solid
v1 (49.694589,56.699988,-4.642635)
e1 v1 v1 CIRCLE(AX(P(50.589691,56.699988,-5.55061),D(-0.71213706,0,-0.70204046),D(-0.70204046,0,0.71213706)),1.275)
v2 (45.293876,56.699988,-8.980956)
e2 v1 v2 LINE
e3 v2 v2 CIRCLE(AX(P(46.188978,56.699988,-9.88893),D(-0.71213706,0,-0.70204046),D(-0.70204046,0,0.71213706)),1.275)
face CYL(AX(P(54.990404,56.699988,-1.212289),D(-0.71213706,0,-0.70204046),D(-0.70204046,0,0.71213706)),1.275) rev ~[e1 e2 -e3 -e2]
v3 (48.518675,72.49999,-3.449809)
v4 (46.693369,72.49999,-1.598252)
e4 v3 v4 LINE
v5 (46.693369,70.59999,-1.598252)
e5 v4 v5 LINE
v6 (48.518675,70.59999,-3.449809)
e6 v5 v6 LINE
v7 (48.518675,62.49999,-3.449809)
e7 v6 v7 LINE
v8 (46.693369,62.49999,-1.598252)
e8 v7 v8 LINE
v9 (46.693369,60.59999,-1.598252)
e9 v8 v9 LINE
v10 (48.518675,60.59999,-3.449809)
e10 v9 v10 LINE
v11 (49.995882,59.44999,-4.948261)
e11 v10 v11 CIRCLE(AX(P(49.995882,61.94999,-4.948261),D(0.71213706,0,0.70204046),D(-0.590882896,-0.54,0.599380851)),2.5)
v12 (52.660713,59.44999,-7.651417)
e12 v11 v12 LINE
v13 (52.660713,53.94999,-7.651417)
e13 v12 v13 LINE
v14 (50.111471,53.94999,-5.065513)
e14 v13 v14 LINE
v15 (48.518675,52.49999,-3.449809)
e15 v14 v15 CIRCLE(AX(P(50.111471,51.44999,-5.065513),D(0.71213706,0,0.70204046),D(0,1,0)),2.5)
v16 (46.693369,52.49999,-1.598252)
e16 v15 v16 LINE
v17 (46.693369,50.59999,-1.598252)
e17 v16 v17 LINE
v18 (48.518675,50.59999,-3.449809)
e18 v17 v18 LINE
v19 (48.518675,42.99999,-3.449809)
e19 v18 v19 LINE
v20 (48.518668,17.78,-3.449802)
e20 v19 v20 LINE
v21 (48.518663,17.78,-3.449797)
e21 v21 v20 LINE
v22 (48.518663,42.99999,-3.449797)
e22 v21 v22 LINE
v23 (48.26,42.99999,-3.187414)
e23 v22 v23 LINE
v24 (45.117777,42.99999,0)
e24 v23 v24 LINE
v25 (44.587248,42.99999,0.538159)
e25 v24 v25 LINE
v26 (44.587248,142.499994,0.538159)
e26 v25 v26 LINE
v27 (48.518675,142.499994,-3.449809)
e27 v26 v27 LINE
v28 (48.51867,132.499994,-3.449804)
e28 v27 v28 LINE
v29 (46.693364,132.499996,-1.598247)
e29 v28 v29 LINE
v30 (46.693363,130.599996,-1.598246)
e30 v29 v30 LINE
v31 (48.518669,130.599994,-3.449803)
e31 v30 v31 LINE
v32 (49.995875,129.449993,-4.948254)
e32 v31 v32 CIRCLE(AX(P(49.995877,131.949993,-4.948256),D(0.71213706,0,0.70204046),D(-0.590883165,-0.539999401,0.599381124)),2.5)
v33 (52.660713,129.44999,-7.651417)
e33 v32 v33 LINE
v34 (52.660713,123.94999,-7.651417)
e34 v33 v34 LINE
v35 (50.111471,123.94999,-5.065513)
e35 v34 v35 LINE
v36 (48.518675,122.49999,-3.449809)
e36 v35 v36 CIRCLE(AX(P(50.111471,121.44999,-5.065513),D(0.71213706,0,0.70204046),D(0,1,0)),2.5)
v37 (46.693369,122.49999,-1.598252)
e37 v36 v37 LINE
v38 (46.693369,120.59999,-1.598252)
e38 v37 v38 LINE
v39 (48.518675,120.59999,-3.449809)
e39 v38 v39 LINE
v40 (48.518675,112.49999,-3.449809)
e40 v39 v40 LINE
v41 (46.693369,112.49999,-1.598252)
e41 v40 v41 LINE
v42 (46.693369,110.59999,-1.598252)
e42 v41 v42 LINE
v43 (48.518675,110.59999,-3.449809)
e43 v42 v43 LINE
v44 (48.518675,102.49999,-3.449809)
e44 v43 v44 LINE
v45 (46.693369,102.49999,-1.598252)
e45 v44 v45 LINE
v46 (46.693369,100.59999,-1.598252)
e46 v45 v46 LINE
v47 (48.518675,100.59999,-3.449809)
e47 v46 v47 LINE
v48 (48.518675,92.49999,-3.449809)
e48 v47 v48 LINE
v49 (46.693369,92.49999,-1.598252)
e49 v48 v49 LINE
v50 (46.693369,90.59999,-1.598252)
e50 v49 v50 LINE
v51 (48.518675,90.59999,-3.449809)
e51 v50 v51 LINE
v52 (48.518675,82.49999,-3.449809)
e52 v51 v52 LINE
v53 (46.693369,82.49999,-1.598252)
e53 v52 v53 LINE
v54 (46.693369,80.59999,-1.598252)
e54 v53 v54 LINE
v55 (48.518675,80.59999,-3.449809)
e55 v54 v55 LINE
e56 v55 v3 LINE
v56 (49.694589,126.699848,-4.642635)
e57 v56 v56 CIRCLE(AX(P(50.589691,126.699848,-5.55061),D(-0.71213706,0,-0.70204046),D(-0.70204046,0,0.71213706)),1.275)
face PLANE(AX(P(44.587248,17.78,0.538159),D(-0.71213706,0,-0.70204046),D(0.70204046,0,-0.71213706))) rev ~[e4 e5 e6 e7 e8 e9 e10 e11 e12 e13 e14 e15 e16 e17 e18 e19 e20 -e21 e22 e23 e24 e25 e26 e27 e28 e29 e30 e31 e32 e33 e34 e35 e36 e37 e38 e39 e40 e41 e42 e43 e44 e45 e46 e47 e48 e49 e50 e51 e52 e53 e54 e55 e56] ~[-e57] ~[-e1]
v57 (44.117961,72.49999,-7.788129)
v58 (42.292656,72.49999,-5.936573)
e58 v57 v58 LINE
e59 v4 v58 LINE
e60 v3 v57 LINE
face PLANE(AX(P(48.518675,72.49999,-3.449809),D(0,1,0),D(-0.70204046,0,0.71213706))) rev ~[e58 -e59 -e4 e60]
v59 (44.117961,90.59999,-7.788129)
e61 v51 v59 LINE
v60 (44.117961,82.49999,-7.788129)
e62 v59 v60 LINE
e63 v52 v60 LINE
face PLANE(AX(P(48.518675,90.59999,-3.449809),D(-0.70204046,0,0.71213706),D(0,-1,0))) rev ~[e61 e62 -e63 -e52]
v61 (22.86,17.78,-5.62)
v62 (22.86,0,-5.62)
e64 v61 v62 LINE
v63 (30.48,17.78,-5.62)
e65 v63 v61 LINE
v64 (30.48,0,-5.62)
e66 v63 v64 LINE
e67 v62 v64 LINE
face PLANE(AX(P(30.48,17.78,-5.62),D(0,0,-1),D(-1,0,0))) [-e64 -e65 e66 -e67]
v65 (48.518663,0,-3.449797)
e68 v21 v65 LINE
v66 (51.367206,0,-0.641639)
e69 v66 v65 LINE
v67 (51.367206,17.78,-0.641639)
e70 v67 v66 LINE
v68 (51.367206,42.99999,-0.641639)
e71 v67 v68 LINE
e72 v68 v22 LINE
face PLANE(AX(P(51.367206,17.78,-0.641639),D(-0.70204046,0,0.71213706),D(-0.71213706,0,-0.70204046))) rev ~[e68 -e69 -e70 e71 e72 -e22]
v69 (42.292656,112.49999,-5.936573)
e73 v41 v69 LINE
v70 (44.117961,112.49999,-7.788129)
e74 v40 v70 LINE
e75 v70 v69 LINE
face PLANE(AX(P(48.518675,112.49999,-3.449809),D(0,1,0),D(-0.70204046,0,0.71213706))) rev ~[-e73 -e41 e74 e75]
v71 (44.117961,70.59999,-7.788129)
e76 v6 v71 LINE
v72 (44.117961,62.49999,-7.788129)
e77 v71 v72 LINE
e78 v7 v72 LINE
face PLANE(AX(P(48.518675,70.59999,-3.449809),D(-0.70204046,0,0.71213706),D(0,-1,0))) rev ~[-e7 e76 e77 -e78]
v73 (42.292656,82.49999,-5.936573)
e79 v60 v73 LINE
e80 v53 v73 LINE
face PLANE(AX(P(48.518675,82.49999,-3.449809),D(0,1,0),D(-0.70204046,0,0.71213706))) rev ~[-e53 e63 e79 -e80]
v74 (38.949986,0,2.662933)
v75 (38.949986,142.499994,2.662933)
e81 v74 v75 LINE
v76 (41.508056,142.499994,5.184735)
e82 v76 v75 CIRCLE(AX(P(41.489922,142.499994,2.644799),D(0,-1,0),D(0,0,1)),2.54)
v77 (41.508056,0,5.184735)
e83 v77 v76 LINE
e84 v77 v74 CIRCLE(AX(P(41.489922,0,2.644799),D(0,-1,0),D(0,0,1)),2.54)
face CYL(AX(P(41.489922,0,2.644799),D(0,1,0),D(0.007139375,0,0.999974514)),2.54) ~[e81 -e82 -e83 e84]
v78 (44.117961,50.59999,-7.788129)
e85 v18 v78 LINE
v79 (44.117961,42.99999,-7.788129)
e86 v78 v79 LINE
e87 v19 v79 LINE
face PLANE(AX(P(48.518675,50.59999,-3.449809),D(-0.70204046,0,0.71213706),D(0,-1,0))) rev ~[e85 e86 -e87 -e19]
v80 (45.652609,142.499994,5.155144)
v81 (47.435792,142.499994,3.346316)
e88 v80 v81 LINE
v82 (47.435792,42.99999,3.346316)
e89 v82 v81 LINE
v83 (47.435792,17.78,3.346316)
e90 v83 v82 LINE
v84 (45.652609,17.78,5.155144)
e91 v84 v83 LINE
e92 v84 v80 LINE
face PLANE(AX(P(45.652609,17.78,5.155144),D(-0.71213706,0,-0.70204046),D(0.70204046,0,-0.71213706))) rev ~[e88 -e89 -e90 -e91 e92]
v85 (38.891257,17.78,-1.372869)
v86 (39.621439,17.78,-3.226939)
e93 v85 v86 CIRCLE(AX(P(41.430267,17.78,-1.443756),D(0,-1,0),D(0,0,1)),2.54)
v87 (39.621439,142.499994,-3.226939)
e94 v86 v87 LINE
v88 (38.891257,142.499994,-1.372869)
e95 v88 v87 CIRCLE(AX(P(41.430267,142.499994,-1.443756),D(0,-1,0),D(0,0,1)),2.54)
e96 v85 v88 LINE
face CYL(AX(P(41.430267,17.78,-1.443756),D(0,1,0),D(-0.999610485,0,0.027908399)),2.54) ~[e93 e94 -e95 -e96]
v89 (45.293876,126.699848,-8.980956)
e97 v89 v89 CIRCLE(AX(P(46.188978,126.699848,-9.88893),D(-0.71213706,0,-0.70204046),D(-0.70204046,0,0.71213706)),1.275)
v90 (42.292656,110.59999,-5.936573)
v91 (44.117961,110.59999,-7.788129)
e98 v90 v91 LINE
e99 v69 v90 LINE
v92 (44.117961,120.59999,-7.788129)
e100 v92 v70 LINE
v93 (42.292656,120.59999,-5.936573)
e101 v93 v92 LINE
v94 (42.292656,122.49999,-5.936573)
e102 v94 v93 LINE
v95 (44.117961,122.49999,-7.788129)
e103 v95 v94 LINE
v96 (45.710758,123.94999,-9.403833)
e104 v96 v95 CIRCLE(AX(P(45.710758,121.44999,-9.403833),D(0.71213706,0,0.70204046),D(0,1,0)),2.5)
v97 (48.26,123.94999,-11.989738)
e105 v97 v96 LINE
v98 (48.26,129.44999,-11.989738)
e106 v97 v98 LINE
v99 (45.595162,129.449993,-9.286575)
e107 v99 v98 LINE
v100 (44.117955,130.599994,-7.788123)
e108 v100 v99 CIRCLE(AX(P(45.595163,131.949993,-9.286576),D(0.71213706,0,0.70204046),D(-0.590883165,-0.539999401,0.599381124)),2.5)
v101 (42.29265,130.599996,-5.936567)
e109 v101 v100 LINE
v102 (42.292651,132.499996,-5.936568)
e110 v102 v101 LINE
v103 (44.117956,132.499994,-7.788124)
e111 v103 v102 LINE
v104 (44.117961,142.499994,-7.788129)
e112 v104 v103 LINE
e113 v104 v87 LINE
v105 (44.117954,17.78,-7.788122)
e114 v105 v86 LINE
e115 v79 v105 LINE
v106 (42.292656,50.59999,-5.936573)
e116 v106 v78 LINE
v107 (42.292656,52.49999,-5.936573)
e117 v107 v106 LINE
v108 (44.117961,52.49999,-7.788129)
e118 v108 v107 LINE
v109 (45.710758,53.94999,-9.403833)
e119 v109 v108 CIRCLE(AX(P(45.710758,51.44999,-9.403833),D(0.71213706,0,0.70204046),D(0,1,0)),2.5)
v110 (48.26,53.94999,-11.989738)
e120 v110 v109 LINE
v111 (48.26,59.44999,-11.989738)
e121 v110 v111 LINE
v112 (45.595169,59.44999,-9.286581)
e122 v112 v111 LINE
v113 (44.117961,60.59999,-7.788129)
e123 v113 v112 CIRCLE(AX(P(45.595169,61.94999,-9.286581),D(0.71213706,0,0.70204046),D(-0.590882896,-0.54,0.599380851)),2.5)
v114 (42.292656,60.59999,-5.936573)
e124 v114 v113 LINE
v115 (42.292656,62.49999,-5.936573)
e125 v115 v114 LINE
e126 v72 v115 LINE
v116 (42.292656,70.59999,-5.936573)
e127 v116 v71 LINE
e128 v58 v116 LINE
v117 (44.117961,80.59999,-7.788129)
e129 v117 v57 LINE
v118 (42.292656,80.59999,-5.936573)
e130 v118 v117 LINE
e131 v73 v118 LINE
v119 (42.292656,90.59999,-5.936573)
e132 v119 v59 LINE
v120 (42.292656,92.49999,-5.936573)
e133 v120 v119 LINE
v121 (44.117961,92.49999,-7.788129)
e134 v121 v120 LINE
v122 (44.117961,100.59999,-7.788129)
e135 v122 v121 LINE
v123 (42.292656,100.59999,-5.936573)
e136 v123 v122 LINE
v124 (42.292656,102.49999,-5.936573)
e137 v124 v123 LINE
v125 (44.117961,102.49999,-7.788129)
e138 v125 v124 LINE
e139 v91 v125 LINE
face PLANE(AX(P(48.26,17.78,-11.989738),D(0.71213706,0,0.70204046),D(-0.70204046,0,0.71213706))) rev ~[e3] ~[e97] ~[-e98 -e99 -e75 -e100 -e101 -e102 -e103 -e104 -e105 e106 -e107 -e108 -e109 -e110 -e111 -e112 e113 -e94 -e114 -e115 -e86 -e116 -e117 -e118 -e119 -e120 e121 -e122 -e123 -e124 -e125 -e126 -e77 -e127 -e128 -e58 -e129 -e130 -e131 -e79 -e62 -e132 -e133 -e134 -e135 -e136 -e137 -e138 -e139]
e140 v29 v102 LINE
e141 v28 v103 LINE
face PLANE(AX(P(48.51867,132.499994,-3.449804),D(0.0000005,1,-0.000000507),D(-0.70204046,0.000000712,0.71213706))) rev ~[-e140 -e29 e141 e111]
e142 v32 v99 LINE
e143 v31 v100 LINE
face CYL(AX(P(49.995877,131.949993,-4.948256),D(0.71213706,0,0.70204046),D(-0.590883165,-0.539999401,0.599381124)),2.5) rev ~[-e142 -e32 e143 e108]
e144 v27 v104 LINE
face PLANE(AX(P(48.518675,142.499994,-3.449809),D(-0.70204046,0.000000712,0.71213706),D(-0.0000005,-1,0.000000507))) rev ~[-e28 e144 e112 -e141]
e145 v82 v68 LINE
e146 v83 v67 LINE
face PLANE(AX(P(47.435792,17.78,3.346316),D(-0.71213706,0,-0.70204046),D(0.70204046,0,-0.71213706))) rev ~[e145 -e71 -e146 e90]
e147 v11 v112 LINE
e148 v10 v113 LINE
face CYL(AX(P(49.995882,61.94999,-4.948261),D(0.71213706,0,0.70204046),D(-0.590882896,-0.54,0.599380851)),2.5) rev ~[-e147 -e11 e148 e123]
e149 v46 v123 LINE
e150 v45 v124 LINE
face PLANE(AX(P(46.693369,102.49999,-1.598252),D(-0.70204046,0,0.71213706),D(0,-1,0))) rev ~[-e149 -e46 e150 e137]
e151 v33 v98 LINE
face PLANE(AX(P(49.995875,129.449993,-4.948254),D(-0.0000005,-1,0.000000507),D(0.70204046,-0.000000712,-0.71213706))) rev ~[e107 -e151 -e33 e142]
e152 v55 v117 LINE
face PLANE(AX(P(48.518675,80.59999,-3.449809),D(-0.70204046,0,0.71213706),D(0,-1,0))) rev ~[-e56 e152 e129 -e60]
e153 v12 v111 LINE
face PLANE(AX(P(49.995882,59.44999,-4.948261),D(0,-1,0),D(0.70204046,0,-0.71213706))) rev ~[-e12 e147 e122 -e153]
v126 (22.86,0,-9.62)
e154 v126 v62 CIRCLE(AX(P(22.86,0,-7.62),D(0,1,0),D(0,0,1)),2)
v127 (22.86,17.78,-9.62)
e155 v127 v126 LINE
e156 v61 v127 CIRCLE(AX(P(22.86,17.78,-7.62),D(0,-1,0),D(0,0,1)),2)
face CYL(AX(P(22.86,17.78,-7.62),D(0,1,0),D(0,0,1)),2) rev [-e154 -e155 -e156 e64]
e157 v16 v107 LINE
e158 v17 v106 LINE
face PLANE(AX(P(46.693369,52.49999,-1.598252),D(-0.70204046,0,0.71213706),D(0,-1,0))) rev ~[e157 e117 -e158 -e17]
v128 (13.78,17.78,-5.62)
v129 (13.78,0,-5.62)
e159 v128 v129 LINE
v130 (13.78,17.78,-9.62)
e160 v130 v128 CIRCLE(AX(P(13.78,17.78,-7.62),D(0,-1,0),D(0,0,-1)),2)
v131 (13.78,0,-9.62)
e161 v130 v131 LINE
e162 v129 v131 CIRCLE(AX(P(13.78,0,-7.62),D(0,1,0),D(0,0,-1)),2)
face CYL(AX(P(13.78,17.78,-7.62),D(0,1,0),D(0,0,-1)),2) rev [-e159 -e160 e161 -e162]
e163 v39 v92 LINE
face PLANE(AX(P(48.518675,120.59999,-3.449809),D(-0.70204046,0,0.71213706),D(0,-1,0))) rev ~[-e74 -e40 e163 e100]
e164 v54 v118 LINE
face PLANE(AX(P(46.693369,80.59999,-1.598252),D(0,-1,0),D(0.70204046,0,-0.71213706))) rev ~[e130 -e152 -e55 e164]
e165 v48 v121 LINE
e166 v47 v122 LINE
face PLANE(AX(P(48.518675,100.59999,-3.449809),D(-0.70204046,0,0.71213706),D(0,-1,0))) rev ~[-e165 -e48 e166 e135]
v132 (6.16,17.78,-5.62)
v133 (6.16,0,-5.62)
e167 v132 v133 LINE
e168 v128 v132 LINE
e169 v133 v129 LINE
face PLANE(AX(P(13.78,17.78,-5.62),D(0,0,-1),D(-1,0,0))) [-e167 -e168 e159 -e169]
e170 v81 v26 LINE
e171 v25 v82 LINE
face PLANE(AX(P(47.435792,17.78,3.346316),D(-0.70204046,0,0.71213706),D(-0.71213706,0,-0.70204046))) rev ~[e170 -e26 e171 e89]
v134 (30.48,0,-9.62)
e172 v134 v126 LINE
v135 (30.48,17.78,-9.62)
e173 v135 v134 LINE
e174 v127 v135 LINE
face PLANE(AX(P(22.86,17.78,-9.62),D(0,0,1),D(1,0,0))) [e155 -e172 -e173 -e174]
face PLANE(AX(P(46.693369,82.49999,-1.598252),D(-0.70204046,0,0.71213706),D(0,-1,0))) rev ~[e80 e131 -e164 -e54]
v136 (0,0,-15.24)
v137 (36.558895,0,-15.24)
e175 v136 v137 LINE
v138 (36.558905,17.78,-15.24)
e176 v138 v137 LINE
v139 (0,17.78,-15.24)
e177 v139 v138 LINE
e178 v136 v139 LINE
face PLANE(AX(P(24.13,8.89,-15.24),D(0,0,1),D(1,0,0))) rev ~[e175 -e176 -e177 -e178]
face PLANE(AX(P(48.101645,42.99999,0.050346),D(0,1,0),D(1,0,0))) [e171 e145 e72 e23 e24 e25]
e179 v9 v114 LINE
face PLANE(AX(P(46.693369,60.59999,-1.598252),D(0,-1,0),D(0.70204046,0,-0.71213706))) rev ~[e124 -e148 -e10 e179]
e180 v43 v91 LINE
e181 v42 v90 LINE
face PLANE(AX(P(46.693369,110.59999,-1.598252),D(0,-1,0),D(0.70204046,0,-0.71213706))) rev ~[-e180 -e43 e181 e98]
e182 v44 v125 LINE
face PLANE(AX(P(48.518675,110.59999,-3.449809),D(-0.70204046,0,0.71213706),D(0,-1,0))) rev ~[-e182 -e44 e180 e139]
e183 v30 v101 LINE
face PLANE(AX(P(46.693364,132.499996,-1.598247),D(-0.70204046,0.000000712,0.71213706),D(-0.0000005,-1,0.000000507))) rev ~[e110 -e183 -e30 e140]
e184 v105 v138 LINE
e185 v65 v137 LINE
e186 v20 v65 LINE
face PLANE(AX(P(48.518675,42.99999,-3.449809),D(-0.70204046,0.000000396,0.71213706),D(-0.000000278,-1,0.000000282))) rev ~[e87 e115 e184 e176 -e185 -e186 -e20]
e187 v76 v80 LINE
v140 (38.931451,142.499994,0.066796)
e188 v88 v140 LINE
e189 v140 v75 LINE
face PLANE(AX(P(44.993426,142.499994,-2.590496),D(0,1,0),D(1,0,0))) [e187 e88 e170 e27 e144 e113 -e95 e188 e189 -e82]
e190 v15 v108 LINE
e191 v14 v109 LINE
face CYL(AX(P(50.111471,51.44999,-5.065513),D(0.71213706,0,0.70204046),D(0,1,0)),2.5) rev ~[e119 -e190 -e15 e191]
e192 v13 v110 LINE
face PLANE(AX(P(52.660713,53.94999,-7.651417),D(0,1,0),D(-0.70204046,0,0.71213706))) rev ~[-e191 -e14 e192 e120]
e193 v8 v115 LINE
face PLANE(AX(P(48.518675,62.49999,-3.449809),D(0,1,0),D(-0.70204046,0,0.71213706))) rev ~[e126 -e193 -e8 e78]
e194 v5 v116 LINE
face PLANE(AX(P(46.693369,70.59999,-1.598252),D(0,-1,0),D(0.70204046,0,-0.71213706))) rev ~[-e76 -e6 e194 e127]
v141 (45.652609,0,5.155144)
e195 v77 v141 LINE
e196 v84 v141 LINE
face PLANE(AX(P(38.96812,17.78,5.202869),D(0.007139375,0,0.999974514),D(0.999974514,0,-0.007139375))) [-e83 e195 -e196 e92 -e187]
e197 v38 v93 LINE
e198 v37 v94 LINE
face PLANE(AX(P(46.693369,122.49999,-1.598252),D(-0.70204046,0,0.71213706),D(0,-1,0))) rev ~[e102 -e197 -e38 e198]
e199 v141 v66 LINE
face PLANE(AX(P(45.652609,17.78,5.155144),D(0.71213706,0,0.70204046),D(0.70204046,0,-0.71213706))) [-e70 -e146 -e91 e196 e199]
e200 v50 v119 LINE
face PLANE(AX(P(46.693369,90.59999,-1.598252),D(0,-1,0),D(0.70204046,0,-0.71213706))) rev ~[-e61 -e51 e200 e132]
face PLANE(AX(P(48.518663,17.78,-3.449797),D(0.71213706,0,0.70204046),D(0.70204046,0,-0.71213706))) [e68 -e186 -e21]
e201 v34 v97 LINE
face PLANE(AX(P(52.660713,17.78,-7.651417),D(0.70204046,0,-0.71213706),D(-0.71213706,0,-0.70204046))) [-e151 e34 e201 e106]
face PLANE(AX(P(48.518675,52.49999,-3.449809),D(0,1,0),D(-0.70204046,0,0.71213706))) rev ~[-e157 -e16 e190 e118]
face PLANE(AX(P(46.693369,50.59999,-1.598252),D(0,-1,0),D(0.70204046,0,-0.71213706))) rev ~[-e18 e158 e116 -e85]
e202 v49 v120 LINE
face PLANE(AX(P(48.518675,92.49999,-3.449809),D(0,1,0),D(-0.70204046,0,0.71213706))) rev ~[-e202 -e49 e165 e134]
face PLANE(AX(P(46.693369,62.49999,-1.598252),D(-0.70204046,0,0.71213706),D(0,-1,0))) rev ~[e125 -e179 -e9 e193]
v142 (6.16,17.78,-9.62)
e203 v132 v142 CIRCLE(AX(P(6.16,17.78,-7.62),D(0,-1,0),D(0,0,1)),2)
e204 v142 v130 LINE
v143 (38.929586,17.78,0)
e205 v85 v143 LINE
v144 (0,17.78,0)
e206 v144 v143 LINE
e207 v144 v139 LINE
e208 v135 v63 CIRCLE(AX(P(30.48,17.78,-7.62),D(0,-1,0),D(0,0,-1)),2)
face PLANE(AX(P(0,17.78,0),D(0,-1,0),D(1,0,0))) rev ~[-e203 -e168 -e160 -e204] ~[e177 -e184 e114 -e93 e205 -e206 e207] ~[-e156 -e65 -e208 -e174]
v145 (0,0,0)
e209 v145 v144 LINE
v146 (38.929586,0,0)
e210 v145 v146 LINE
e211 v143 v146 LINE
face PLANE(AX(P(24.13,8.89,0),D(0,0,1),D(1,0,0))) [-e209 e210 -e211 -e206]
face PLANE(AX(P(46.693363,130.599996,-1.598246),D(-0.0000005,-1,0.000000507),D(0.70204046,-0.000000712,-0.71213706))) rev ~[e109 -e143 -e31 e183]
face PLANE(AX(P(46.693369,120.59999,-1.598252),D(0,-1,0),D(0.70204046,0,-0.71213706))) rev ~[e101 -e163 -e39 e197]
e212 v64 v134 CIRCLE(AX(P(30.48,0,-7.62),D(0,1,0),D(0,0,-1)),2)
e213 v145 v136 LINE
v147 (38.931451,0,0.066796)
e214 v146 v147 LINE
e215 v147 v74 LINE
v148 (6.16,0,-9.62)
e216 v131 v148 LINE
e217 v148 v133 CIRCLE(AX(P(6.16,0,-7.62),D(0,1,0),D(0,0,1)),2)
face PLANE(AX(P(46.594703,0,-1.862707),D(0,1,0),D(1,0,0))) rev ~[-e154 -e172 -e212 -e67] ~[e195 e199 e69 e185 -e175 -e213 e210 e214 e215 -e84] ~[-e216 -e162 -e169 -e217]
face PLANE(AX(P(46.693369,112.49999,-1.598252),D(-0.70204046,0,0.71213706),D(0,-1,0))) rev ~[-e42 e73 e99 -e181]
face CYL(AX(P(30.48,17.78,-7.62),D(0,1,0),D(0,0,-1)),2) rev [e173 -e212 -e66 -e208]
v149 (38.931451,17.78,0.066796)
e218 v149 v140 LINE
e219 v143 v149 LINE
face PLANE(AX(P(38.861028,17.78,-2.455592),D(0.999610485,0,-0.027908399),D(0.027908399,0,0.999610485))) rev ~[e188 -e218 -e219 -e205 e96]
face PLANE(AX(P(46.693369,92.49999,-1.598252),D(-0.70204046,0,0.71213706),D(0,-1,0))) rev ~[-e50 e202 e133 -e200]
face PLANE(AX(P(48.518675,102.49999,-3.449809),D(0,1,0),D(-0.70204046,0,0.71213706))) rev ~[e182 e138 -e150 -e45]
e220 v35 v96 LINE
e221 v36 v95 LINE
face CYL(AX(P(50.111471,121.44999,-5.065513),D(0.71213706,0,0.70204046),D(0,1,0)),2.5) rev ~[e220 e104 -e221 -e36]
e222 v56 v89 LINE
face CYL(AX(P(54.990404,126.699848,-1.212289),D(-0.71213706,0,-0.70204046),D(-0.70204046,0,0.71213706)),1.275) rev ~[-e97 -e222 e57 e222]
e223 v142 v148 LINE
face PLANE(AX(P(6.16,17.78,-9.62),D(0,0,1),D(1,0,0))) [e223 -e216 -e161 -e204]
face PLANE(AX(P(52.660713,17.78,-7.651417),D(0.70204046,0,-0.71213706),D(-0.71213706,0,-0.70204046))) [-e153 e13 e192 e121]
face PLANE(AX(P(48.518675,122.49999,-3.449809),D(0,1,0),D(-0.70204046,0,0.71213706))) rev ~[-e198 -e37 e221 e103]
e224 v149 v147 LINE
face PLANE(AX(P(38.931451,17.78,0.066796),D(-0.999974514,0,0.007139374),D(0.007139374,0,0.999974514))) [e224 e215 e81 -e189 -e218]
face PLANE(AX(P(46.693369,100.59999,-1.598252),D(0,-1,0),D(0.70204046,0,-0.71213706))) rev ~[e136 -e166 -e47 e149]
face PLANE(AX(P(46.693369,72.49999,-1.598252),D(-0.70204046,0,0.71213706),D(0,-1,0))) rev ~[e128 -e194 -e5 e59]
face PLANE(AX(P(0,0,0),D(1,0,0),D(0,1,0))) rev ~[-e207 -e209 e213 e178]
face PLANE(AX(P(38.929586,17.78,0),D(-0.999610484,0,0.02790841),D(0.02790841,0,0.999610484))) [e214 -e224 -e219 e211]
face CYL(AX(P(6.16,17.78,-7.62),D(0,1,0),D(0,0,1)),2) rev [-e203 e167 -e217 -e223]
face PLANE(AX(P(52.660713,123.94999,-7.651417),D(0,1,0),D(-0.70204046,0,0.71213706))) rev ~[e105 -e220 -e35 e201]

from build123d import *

# Parameters (mm, degrees)
SKETCH1_W                                 = 48.26
SKETCH1_H                                 = 17.78
BOSS_EXTRUDE1_DEPTH                       = 15.24
CUT_EXTRUDE2_DEPTH                        = 18.78
BOSS_EXTRUDE7_DEPTH                       = 124.7199944
BOSS_EXTRUDE10_DEPTH                      = 17.78
BOSS_EXTRUDE11_DEPTH                      = 25.2199902
TAPPED_HOLE_FOR_M2_5X0_45_HELICOIL1_D     = 2.55
TAPPED_HOLE_FOR_M2_5X0_45_HELICOIL1_DEPTH = 6.179587557
CUT_EXTRUDE3_DEPTH                        = 43.829137561
FILLET1_R                                 = 2.54
FILLET2_R                                 = 2.54


with BuildPart() as part:
    # Sketch1 → Boss-Extrude1 (new body)
    with BuildSketch(Plane.XY):
        with Locations((24.13, 8.89)):
            Rectangle(SKETCH1_W, SKETCH1_H)
    extrude(amount=-BOSS_EXTRUDE1_DEPTH)

    # Sketch4 → Cut-Extrude2 (cut, through all)
    with BuildSketch(Plane(origin=(0, 17.78, 0), x_dir=(1, 0, 0), z_dir=(0, 1, 0))):
        with BuildLine():
            Line((30.48, 5.62), (22.86, 5.62))
            ThreePointArc((22.86, 5.62), (20.86, 7.62), (22.86, 9.62))
            Line((22.86, 9.62), (30.48, 9.62))
            ThreePointArc((30.48, 9.62), (32.48, 7.62), (30.48, 5.62))
        make_face()
        with BuildLine():
            Line((13.78, 5.62), (6.16, 5.62))
            ThreePointArc((6.16, 5.62), (4.16, 7.62), (6.16, 9.62))
            Line((6.16, 9.62), (13.78, 9.62))
            ThreePointArc((13.78, 9.62), (15.78, 7.62), (13.78, 5.62))
        make_face()
    extrude(amount=-CUT_EXTRUDE2_DEPTH, mode=Mode.SUBTRACT)

    # Sketch3 → Boss-Extrude7 (add)
    with BuildSketch(Plane(origin=(0, 17.78, 0), x_dir=(1, 0, 0), z_dir=(0, 1, 0))):
        Polygon((38.861027897, 2.455591764), (38.931451129, -0.066795908), (38.96812041, -5.202868615), (45.652609046, -5.155144331), (47.435791814, -3.346316197), (44.587248028, -0.538158749), (52.660713317, 7.651417444), (48.26, 11.989737935), align=None)
    extrude(amount=BOSS_EXTRUDE7_DEPTH)

    # Sketch3<15> → Boss-Extrude10 (add, through all)
    with BuildSketch(Plane(origin=(0, 17.78, 0), x_dir=(1, 0, 0), z_dir=(0, 1, 0))):
        Polygon((38.929586235, 0), (38.931451129, -0.066795908), (38.96812041, -5.202868615), (45.652609046, -5.155144331), (51.367206426, 0.641639204), (48.518662639, 3.449796653), (52.660713317, 7.651417444), (48.26, 11.989737935), (48.26, 0), align=None)
    extrude(amount=-BOSS_EXTRUDE10_DEPTH)

    # Sketch3<16> → Boss-Extrude11 (add)
    with BuildSketch(Plane(origin=(0, 17.78, 0), x_dir=(1, 0, 0), z_dir=(0, 1, 0))):
        Polygon((48.26, 0), (45.117776821, 0), (44.587248028, -0.538158749), (47.435791814, -3.346316197), (51.367206426, 0.641639204), (48.518662639, 3.449796653), (48.26, 3.187413981), align=None)
        Polygon((48.26, 3.187413981), (45.117776821, 0), (48.26, 0), align=None)
    extrude(amount=BOSS_EXTRUDE11_DEPTH)

    # Tapped Hole for M2.5x0.45 Helicoil1
    with Locations(Plane(origin=(72.176615664, -14.555024135, -27.447993454), x_dir=(0.70204046, 0, -0.71213706), z_dir=(0.71213706, 0, 0.70204046))):
        with Locations((-30.748832903, 71.255012335), (-30.748832903, 141.254872335)):
            Hole(TAPPED_HOLE_FOR_M2_5X0_45_HELICOIL1_D / 2, depth=TAPPED_HOLE_FOR_M2_5X0_45_HELICOIL1_DEPTH)

    # Sketch10 → Cut-Extrude3 (cut, through all)
    with BuildSketch(Plane(origin=(22.88099291, 0, 22.556588727), x_dir=(0.70204046, 0, -0.71213706), z_dir=(0.71213706, 0, 0.70204046))):
        with BuildLine():
            Line((44.733441395, 142.4999944), (36.518809323, 142.4999944))
            Line((36.518809323, 142.4999944), (36.518802204, 132.4999944))
            Line((36.518802204, 132.4999944), (33.918802204, 132.499996251))
            Line((33.918802204, 132.499996251), (33.918800852, 130.599996251))
            Line((33.918800852, 130.599996251), (36.518800852, 130.5999944))
            ThreePointArc((36.518800852, 130.5999944), (37.424004911, 129.756252659), (38.622962574, 129.449992902))
            Line((38.622962574, 129.449992902), (42.418809323, 129.4499902))
            Line((42.418809323, 129.4499902), (42.418809323, 123.9499902))
            Line((42.418809323, 123.9499902), (38.787619584, 123.9499902))
            ThreePointArc((38.787619584, 123.9499902), (37.441328382, 123.556527643), (36.518809323, 122.4999902))
            Line((36.518809323, 122.4999902), (33.918809323, 122.4999902))
            Line((33.918809323, 122.4999902), (33.918809323, 120.5999902))
            Line((33.918809323, 120.5999902), (36.518809323, 120.5999902))
            Line((36.518809323, 120.5999902), (36.518809323, 112.4999902))
            Line((36.518809323, 112.4999902), (33.918809323, 112.4999902))
            Line((33.918809323, 112.4999902), (33.918809323, 110.5999902))
            Line((33.918809323, 110.5999902), (36.518809323, 110.5999902))
            Line((36.518809323, 110.5999902), (36.518809323, 102.4999902))
            Line((36.518809323, 102.4999902), (33.918809323, 102.4999902))
            Line((33.918809323, 102.4999902), (33.918809323, 100.5999902))
            Line((33.918809323, 100.5999902), (36.518809323, 100.5999902))
            Line((36.518809323, 100.5999902), (36.518809323, 92.4999902))
            Line((36.518809323, 92.4999902), (33.918809323, 92.4999902))
            Line((33.918809323, 92.4999902), (33.918809323, 90.5999902))
            Line((33.918809323, 90.5999902), (36.518809323, 90.5999902))
            Line((36.518809323, 90.5999902), (36.518809323, 82.4999902))
            Line((36.518809323, 82.4999902), (33.918809323, 82.4999902))
            Line((33.918809323, 82.4999902), (33.918809323, 80.5999902))
            Line((33.918809323, 80.5999902), (36.518809323, 80.5999902))
            Line((36.518809323, 80.5999902), (36.518809323, 72.4999902))
            Line((36.518809323, 72.4999902), (33.918809323, 72.4999902))
            Line((33.918809323, 72.4999902), (33.918809323, 70.5999902))
            Line((33.918809323, 70.5999902), (36.518809323, 70.5999902))
            Line((36.518809323, 70.5999902), (36.518809323, 62.4999902))
            Line((36.518809323, 62.4999902), (33.918809323, 62.4999902))
            Line((33.918809323, 62.4999902), (33.918809323, 60.5999902))
            Line((33.918809323, 60.5999902), (36.518809323, 60.5999902))
            ThreePointArc((36.518809323, 60.5999902), (37.424013983, 59.756249103), (38.622971864, 59.4499902))
            Line((38.622971864, 59.4499902), (42.418809323, 59.4499902))
            Line((42.418809323, 59.4499902), (42.418809323, 53.9499902))
            Line((42.418809323, 53.9499902), (38.787619584, 53.9499902))
            ThreePointArc((38.787619584, 53.9499902), (37.441328382, 53.556527643), (36.518809323, 52.4999902))
            Line((36.518809323, 52.4999902), (33.918809323, 52.4999902))
            Line((33.918809323, 52.4999902), (33.918809323, 50.5999902))
            Line((33.918809323, 50.5999902), (36.518809323, 50.5999902))
            Line((36.518809323, 50.5999902), (36.518809323, 42.9999902))
            Line((36.518809323, 42.9999902), (36.518792281, 0))
            Line((36.518792281, 0), (44.733441395, 0))
            Line((44.733441395, 0), (44.733441395, 142.4999944))
        make_face()
    extrude(amount=-CUT_EXTRUDE3_DEPTH, mode=Mode.SUBTRACT)

    # Fillet1
    fillet1_edges = [part.edges().sort_by_distance(p)[0] for p in [
        (38.96812041, 71.2499972, 5.202868615),
    ]]
    fillet(fillet1_edges, radius=FILLET1_R)

    # Fillet2
    fillet2_edges = [part.edges().sort_by_distance(p)[0] for p in [
        (38.861027897, 80.1399972, -2.455591764),
    ]]
    fillet(fillet2_edges, radius=FILLET2_R)


solid = part.part
